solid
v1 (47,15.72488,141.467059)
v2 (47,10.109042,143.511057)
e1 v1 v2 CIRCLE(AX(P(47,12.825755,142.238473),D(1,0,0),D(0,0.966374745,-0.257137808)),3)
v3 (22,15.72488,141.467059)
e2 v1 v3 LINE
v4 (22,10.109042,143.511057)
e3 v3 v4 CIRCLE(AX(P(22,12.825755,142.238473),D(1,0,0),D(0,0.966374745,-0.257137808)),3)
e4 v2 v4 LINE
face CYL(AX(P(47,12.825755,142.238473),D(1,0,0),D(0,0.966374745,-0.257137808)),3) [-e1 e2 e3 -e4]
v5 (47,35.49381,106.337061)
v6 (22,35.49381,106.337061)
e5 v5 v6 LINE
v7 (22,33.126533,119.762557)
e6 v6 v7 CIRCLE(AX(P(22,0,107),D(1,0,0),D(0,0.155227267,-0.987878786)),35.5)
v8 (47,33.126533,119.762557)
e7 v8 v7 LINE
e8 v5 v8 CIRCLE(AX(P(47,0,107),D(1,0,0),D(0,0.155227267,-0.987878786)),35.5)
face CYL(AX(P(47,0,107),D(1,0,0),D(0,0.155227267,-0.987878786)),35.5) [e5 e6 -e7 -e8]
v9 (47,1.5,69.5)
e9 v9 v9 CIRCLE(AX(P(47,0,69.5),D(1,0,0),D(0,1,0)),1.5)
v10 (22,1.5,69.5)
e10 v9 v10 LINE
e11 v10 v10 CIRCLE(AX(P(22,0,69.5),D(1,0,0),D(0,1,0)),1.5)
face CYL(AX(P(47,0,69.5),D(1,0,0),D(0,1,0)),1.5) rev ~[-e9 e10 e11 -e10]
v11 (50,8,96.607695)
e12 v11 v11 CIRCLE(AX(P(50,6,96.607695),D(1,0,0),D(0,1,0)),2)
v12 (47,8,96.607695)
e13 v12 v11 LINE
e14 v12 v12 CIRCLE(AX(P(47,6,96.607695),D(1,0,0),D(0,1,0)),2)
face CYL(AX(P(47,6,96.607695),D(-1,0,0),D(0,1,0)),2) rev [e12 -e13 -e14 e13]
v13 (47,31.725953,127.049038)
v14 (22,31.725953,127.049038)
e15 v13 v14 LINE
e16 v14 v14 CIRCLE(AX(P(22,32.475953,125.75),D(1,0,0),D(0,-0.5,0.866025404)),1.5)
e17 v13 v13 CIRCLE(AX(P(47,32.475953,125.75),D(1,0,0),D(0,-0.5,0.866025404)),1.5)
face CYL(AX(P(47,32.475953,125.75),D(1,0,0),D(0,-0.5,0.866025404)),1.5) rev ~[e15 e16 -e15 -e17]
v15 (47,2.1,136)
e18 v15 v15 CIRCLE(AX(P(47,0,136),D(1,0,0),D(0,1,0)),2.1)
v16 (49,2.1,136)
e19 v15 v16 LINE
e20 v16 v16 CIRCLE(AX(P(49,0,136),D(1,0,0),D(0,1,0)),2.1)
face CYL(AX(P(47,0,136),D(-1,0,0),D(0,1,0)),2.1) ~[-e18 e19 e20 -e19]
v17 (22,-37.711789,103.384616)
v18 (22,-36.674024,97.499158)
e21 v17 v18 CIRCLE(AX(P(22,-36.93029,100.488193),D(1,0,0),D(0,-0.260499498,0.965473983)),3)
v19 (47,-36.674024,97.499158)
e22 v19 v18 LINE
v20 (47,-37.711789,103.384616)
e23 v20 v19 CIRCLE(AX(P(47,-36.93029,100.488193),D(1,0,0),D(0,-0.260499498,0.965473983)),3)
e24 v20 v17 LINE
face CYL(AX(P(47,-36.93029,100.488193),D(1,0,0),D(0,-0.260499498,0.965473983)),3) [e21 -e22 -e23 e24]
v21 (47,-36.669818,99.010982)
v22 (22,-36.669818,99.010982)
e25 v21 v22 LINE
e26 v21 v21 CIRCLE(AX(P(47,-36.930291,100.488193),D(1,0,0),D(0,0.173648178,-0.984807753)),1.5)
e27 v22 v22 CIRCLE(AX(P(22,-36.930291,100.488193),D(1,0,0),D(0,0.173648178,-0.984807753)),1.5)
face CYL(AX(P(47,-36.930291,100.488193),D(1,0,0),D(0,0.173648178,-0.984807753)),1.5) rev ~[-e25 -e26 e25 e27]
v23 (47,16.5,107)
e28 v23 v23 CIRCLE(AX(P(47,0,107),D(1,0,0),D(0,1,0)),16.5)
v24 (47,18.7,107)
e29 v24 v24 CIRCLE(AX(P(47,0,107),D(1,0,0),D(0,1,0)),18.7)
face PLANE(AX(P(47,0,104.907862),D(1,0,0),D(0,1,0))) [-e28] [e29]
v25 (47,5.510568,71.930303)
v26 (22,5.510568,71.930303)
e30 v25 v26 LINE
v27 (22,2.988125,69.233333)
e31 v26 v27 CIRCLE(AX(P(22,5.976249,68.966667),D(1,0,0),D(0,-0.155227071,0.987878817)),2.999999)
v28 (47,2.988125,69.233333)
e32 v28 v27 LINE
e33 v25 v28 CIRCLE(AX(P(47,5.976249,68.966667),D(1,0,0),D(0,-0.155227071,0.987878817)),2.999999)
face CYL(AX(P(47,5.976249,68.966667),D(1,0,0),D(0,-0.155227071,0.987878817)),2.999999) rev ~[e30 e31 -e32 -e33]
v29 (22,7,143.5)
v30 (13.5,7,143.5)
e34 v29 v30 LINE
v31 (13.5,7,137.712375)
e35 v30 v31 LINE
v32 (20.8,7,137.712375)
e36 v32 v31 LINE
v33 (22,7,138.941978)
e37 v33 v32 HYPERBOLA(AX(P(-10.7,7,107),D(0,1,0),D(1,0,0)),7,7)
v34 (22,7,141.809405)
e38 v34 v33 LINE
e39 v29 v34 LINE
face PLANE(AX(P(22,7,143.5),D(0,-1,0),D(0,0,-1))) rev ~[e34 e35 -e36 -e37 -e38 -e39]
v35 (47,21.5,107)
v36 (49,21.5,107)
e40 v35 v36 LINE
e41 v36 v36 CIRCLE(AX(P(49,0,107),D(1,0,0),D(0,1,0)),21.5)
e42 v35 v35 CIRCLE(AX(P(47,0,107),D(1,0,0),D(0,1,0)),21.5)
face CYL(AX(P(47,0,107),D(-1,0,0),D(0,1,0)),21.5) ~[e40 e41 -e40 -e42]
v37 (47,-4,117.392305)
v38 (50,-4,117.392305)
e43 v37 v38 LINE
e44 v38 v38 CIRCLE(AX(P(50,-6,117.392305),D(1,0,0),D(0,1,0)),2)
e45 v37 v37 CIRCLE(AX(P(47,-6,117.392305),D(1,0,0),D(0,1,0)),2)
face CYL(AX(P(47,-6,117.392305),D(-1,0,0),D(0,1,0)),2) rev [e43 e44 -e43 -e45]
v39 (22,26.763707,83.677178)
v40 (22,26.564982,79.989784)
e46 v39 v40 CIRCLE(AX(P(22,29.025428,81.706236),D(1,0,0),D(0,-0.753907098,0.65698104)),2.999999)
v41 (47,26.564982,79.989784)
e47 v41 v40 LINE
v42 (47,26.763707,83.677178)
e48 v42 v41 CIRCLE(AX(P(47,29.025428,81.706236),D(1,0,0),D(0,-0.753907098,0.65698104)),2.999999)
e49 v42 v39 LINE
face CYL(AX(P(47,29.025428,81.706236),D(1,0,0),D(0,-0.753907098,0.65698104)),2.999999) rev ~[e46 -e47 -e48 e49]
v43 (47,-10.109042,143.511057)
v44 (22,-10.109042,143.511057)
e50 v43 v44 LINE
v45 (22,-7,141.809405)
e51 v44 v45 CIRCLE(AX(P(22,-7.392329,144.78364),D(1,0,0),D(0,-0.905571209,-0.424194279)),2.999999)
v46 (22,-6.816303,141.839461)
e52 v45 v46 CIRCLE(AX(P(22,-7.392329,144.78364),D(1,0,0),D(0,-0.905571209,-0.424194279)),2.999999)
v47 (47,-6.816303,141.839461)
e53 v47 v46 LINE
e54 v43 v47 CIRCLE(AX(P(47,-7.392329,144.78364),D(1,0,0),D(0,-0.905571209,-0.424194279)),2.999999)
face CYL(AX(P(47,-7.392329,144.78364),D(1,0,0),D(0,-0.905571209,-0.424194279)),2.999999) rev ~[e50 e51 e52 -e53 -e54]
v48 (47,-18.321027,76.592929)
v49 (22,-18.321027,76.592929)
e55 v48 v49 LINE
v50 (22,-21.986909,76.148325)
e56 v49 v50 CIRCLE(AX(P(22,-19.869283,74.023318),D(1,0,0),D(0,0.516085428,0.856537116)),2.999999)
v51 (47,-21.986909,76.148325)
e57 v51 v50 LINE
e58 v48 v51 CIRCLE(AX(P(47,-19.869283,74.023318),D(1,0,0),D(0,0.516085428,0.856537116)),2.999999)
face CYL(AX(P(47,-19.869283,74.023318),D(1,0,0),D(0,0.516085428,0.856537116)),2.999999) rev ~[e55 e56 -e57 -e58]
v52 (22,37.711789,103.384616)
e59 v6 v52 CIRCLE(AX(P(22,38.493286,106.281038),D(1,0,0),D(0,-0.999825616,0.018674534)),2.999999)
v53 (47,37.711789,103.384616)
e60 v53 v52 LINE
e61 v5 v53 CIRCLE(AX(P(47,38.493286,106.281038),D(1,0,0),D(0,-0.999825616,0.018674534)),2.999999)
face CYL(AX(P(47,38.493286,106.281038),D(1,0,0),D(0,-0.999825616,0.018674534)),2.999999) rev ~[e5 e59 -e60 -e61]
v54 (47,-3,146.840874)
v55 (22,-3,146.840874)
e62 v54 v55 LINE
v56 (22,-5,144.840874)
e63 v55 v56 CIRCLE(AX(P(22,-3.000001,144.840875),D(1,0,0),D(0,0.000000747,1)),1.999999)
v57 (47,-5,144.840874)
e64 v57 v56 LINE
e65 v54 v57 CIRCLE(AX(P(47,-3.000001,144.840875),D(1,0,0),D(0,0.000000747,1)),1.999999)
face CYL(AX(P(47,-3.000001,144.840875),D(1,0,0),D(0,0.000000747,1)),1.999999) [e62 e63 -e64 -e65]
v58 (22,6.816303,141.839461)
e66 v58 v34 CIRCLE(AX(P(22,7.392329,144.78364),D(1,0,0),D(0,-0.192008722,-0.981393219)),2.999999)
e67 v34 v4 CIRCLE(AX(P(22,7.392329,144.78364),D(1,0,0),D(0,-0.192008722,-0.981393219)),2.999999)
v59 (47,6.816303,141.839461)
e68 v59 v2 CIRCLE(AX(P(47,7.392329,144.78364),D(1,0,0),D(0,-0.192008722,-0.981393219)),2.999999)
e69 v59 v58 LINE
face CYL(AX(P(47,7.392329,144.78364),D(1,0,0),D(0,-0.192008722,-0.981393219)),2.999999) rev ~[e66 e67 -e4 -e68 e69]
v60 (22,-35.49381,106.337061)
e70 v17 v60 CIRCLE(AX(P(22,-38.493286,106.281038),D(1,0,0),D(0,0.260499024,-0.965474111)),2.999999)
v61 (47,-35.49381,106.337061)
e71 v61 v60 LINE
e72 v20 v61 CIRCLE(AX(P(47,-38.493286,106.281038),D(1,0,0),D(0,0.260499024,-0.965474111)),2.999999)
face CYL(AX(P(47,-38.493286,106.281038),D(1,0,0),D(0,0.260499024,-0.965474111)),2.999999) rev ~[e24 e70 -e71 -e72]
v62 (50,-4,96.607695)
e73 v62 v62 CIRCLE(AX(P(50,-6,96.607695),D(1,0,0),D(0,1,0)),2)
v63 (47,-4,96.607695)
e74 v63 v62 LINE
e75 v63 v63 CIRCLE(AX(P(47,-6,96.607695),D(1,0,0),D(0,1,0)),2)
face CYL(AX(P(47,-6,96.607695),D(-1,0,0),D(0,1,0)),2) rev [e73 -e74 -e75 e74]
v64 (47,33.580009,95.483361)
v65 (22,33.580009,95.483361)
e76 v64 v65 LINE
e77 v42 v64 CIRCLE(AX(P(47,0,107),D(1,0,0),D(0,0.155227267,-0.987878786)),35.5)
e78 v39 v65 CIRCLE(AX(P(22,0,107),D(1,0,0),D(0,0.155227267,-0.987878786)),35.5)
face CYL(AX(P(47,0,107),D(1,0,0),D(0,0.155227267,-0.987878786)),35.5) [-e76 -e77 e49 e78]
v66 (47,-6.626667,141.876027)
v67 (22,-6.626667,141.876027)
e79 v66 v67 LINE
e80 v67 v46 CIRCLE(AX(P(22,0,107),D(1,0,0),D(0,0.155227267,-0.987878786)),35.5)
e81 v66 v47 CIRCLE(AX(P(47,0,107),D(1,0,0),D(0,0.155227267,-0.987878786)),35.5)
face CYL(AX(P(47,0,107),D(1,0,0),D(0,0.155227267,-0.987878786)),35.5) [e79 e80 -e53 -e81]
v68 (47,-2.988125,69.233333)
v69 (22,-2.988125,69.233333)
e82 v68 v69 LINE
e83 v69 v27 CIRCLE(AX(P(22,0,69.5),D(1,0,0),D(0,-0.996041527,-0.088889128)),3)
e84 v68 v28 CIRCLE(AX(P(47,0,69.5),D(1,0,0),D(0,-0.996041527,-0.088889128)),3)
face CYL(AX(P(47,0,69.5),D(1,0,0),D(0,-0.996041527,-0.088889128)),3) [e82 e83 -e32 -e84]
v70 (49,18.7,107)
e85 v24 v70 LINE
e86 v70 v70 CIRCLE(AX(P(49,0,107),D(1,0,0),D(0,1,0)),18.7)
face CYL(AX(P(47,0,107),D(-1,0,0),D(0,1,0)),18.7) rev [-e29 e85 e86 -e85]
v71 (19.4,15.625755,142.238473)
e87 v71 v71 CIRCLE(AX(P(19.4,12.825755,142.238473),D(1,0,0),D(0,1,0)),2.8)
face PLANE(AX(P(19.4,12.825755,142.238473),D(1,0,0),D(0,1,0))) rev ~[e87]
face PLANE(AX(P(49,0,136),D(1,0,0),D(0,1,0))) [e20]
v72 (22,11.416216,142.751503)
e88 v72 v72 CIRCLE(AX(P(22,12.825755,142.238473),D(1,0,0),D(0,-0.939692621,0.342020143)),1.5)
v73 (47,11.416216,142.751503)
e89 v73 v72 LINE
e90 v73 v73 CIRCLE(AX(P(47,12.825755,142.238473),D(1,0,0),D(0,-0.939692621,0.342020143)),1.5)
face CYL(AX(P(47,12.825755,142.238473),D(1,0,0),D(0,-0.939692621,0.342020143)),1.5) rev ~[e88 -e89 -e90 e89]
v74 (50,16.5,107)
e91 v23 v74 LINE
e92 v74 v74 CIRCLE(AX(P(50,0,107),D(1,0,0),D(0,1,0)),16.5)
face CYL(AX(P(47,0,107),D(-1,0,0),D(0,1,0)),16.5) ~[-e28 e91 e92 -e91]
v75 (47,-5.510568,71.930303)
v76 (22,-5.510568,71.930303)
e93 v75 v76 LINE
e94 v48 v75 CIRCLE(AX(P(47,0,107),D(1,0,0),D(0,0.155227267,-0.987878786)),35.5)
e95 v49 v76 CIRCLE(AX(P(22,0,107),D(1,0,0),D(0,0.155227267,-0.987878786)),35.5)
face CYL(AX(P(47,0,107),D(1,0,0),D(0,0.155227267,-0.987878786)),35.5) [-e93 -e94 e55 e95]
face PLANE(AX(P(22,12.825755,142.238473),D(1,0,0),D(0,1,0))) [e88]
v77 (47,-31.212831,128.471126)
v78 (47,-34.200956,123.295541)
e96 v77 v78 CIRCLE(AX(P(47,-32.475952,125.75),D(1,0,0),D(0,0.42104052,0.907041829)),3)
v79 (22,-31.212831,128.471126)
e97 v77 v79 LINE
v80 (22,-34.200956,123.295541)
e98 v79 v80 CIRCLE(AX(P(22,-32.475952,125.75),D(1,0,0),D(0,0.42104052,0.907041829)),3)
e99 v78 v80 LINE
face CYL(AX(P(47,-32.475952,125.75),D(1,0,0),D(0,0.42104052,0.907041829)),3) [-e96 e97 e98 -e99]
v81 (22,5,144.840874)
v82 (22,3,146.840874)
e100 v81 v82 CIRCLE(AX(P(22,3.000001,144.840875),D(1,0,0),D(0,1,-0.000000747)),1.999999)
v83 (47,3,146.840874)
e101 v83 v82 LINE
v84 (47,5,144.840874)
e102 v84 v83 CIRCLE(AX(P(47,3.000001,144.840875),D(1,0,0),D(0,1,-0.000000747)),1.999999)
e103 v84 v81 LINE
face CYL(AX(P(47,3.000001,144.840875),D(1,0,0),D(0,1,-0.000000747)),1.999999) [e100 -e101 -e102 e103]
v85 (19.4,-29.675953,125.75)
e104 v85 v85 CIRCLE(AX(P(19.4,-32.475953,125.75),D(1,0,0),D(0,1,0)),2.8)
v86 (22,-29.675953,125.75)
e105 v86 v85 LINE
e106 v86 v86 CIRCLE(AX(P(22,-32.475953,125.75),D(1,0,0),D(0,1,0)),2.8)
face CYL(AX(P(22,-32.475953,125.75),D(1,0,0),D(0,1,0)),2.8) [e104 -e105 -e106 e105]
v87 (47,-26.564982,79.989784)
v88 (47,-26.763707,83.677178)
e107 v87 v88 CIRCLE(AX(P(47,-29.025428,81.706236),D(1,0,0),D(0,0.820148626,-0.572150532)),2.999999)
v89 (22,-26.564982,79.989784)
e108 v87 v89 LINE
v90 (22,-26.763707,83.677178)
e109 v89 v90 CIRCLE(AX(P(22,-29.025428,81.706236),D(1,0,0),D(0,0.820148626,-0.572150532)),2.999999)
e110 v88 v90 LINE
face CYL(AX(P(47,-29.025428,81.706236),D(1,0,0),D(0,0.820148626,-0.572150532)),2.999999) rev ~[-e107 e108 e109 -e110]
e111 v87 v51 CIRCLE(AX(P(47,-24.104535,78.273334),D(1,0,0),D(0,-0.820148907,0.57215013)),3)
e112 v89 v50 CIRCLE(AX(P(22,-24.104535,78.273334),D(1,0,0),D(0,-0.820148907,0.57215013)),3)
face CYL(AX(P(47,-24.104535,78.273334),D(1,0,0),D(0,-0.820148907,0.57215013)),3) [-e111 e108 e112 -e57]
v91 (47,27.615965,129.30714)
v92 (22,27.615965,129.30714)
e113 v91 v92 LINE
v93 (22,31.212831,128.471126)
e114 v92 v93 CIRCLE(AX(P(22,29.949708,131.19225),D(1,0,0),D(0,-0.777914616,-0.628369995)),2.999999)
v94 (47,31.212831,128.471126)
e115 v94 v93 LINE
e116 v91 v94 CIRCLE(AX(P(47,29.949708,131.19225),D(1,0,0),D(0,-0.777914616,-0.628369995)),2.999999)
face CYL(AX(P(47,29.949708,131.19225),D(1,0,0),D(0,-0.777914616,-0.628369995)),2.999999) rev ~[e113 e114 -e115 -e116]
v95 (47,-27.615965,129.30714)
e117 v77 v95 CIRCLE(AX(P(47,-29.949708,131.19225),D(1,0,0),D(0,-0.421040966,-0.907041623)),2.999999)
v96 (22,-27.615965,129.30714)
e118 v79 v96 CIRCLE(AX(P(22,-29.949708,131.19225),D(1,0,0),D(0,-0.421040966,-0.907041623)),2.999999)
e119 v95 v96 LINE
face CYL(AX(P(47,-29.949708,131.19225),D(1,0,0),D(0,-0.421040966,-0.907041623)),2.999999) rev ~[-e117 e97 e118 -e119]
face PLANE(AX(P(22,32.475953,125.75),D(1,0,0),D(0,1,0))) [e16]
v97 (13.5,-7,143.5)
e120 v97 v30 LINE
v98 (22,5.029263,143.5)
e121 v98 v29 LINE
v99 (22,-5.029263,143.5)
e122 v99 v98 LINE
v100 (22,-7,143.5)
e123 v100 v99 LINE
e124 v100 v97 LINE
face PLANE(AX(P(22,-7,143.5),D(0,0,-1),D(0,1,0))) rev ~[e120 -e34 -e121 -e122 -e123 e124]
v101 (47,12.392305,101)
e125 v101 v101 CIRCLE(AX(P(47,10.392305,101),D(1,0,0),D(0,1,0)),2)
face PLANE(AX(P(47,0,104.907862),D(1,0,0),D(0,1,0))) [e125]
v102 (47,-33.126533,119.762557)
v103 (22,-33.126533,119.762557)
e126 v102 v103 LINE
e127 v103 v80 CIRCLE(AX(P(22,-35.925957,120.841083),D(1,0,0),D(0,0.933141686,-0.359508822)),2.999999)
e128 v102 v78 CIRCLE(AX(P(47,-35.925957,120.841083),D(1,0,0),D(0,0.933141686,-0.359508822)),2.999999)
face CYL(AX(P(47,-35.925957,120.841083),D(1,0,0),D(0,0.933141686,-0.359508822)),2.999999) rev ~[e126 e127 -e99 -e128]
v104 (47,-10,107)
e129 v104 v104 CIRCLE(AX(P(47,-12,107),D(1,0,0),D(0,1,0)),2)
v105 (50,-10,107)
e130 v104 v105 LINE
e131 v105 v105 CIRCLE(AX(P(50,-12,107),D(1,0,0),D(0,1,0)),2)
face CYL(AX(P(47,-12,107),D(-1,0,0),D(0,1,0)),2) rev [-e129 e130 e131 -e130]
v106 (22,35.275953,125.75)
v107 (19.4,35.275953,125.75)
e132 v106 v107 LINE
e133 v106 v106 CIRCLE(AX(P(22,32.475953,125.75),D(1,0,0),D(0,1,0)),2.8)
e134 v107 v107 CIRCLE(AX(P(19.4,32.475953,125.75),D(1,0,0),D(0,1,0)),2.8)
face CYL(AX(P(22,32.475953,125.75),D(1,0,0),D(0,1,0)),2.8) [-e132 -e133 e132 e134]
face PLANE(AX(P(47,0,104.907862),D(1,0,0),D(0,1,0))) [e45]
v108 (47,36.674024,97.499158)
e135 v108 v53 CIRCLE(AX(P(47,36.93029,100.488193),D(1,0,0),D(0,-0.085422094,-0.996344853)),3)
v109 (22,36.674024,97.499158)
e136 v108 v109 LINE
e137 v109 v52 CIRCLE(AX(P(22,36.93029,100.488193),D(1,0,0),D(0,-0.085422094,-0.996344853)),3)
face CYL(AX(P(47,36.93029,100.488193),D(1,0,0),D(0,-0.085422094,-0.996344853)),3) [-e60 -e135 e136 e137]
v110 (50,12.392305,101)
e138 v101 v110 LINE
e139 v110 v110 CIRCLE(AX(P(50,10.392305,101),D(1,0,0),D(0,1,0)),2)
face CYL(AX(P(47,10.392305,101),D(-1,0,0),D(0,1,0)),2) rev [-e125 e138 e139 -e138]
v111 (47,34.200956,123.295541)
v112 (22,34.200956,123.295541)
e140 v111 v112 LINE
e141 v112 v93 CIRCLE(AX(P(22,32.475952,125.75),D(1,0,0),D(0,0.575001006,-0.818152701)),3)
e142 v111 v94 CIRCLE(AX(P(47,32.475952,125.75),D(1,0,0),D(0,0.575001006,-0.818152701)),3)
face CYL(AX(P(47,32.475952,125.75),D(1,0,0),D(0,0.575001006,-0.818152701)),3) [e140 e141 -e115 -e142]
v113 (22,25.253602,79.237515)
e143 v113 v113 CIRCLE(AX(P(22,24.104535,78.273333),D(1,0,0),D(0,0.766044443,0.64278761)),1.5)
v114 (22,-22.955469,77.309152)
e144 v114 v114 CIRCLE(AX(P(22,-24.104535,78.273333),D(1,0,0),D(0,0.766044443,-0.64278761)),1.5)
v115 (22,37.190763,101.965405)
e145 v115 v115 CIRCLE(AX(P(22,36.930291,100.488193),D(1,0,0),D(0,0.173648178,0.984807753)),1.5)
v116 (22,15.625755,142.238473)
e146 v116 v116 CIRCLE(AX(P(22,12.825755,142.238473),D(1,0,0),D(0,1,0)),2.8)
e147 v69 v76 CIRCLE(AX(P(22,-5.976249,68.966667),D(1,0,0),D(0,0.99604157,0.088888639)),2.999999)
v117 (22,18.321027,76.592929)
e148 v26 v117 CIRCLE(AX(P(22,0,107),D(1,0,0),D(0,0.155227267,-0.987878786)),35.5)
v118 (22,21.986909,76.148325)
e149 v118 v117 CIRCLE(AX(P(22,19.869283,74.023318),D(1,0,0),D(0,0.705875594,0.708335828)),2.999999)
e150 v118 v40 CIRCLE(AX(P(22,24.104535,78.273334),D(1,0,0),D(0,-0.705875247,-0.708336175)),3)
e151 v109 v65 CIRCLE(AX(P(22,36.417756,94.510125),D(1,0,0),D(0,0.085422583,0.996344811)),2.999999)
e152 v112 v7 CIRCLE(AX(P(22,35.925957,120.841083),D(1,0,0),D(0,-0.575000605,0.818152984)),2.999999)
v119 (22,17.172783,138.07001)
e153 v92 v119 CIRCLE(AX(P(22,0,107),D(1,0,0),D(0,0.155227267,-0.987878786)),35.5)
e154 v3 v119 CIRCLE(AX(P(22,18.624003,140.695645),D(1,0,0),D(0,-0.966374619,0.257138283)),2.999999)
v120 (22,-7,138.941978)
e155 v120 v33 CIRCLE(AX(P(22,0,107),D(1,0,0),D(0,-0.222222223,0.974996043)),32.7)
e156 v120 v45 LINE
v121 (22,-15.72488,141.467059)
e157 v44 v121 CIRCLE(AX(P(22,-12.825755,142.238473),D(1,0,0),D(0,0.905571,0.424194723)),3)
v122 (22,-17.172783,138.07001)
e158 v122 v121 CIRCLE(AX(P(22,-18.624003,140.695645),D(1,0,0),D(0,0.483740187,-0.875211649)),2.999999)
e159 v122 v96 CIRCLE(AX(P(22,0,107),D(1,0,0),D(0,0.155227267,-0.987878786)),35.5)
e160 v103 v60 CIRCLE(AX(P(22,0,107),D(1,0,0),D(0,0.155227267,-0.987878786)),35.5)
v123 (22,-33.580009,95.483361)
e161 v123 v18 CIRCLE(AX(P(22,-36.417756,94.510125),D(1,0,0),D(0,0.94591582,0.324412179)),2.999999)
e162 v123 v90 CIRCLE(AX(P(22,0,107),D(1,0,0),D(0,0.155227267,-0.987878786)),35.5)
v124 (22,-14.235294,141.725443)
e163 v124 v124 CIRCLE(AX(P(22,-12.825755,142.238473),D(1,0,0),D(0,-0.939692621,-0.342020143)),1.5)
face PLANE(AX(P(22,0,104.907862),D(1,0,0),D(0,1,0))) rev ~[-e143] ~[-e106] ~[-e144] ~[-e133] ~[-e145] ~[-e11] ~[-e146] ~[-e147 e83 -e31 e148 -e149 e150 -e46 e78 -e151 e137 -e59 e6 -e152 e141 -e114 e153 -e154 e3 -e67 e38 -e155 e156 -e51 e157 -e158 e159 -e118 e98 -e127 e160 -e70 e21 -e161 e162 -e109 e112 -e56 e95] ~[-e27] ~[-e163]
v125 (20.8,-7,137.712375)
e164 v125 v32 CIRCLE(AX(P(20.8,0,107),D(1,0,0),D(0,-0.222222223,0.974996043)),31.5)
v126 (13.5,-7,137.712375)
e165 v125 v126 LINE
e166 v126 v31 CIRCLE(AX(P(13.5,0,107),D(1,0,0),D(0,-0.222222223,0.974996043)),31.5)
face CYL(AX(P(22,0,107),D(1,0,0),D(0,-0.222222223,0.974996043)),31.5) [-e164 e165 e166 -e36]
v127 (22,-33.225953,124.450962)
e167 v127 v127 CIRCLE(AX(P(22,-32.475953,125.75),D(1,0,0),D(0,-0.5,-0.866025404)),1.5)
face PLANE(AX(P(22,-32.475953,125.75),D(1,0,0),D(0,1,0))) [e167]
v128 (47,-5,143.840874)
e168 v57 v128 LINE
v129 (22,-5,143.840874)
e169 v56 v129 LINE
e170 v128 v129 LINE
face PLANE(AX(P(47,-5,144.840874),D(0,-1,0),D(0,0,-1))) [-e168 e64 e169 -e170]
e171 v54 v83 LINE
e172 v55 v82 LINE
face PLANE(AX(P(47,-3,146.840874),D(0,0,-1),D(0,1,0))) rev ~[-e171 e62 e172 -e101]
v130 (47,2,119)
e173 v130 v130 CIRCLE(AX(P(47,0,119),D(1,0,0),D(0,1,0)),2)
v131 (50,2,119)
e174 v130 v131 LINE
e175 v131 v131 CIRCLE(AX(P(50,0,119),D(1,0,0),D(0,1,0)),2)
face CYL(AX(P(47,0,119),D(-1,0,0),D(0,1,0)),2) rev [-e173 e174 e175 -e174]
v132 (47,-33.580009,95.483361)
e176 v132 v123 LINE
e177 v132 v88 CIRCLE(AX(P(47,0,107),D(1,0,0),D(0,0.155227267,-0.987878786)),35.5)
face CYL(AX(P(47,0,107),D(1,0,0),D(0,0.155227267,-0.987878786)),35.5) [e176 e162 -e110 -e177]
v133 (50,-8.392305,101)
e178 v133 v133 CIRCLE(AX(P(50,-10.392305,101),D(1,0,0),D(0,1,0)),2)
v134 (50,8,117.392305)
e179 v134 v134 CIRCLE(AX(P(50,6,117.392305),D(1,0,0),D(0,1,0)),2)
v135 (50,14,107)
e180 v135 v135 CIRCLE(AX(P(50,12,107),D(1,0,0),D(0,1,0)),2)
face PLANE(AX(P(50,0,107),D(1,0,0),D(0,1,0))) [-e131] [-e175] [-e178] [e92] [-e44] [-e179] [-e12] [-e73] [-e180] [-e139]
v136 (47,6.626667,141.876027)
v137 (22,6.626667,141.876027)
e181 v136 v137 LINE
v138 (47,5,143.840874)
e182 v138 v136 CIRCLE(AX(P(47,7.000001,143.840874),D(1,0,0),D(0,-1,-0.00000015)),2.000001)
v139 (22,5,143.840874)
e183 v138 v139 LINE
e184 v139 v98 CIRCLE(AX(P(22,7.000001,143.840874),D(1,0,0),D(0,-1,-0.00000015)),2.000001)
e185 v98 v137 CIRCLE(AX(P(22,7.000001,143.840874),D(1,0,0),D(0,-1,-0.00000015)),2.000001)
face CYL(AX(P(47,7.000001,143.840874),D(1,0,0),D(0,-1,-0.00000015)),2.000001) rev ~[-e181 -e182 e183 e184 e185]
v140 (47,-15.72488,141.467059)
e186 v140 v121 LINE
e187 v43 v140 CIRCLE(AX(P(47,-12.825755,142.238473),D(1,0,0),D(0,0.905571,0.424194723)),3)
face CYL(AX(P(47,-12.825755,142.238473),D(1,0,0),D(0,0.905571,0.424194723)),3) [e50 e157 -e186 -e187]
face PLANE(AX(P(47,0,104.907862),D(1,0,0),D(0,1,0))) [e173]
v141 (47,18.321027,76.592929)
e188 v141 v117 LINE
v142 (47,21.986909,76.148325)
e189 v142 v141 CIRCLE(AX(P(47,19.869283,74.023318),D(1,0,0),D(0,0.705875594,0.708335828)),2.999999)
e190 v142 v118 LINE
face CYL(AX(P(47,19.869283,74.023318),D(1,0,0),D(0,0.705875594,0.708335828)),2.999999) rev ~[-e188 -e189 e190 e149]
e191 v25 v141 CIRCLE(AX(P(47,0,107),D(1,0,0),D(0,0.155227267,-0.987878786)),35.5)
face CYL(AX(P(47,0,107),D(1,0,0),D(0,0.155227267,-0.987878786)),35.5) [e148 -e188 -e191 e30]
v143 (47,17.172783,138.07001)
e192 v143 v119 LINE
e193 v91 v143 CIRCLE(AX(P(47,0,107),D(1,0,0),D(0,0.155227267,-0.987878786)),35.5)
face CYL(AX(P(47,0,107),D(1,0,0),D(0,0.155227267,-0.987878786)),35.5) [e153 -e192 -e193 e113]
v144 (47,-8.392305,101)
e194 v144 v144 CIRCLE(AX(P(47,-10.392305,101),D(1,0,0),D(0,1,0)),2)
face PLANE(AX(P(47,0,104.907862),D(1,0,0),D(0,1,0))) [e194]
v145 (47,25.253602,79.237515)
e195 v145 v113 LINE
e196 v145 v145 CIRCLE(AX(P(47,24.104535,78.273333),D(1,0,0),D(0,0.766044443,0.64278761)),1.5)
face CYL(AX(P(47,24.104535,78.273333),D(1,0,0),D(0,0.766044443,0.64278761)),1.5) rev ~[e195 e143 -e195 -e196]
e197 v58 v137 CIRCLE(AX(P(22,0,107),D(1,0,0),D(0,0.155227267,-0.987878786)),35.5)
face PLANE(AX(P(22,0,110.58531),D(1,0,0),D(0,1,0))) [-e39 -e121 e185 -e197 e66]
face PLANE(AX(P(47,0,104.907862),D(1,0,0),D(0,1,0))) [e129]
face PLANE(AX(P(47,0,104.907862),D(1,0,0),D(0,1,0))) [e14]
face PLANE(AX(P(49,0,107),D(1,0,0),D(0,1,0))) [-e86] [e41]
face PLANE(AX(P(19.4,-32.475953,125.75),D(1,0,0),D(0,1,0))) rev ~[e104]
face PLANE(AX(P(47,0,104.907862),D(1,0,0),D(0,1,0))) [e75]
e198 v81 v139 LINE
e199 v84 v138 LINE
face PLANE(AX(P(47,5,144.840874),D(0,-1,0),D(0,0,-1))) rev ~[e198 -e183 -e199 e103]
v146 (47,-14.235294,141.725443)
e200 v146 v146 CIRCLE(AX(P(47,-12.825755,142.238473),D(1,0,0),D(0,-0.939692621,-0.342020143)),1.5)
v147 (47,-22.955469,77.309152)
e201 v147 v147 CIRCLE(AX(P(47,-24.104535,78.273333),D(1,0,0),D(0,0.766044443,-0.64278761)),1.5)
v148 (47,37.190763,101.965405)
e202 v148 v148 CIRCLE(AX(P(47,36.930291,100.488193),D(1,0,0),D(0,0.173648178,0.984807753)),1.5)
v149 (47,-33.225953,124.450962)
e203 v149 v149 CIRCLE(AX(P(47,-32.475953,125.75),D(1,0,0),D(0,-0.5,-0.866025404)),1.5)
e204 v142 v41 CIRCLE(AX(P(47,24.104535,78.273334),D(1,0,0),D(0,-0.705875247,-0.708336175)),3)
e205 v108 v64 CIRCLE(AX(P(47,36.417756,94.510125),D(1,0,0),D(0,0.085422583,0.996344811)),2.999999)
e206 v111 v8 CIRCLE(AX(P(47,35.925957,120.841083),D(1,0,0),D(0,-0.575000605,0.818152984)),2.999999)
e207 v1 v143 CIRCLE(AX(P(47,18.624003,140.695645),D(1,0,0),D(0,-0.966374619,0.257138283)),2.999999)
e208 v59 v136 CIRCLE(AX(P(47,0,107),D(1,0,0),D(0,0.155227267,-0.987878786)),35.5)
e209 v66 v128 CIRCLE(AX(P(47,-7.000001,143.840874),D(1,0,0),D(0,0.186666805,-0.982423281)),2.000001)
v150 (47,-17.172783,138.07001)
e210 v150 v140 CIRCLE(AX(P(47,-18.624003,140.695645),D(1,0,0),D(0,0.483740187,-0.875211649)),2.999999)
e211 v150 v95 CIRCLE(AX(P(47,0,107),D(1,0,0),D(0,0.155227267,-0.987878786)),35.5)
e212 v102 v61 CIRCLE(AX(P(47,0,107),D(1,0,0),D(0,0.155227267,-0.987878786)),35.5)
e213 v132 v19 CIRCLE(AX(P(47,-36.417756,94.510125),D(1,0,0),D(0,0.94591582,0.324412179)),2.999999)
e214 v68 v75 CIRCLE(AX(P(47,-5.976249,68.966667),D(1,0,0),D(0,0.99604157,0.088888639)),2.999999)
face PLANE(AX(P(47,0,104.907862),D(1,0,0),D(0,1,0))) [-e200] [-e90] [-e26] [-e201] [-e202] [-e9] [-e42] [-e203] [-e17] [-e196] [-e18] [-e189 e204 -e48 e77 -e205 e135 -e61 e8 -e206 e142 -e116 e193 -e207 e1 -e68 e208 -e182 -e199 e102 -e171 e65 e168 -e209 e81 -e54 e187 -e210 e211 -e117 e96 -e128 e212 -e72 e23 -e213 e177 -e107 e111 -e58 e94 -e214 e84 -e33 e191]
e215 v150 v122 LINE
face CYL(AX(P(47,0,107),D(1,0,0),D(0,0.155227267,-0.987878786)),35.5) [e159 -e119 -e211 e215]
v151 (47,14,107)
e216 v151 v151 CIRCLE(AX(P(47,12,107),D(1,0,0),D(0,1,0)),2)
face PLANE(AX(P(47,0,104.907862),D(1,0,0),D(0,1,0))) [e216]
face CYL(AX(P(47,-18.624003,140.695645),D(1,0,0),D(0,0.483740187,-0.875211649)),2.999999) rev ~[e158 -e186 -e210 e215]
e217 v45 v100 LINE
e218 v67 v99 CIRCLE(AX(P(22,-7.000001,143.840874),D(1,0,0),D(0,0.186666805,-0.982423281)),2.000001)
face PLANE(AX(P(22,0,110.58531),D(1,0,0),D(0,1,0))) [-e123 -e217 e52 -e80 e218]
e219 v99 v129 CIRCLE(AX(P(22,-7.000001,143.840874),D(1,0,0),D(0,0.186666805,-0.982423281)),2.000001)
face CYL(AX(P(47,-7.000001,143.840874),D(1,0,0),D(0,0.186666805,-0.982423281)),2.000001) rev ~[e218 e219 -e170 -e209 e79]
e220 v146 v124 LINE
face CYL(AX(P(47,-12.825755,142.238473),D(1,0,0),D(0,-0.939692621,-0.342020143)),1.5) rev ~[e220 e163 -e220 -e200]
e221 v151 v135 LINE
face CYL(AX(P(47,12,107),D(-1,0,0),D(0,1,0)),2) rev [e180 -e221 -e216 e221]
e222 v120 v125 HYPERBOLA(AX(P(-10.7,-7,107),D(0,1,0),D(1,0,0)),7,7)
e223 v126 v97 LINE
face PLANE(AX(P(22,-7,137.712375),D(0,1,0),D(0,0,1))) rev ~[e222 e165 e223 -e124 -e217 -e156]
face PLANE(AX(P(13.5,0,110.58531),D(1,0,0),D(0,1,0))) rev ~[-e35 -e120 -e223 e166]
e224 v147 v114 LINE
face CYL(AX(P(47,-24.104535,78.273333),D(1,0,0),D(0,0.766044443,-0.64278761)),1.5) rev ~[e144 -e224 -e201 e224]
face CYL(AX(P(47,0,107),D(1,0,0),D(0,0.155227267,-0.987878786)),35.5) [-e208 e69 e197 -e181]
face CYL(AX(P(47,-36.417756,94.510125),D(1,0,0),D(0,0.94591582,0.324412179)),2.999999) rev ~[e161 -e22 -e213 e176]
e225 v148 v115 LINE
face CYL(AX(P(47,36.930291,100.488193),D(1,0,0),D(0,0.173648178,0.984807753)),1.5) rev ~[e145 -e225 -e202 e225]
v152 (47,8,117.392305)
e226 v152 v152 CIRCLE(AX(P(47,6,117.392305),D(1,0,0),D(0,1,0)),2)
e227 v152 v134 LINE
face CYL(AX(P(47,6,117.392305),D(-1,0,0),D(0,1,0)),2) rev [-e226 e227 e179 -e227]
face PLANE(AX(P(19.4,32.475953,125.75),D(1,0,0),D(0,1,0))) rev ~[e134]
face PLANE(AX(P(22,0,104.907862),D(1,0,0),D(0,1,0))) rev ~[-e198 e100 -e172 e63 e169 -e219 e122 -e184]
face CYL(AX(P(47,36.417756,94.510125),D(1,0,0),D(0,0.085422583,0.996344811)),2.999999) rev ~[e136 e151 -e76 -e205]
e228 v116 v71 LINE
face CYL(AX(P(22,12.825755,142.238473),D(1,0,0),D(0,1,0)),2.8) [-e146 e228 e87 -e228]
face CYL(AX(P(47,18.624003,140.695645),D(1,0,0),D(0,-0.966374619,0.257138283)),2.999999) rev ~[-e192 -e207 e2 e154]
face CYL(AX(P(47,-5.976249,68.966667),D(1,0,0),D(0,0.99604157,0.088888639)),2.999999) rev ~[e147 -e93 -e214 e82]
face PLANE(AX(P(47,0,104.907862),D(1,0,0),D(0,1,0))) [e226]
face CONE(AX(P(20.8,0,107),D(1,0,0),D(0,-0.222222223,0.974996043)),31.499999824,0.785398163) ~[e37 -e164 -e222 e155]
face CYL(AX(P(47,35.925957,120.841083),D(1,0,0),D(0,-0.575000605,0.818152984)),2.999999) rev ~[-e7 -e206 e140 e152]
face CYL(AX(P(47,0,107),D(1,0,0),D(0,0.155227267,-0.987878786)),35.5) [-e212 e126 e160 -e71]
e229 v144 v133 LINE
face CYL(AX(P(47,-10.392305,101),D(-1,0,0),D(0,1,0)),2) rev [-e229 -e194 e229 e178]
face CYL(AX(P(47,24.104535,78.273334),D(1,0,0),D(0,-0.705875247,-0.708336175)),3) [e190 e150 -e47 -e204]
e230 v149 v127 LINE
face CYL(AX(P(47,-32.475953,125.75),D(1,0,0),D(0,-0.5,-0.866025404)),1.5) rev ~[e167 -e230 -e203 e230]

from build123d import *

# Parameters (mm, degrees)
SKETCH009_R        = 16.5
SKETCH009_R_2      = 2
PAD006_DEPTH       = 3
SKETCH010_R        = 1.5
PAD007_DEPTH       = 25
POLARPATTERN_COUNT = 9
PAD008_DEPTH       = 25
SKETCH012_R        = 21.5
SKETCH012_R_2      = 18.7
SKETCH012_R_3      = 2.1
PAD009_DEPTH       = 2
PAD010_DEPTH       = 8.5
SKETCH014_R        = 2.8
PAD011_DEPTH       = 2.6
CHAMFER_SIZE       = 1.2


with BuildPart() as part:
    # Sketch009 → Pad006 (new body)
    with BuildSketch(Plane.YZ):
        Circle(SKETCH009_R)
        with Locations((0, 12)):
            Circle(SKETCH009_R_2, mode=Mode.SUBTRACT)
        with Locations((-6, 10.392305)):
            Circle(SKETCH009_R_2, mode=Mode.SUBTRACT)
        with Locations((6, 10.392305)):
            Circle(SKETCH009_R_2, mode=Mode.SUBTRACT)
        with Locations((12, 0)):
            Circle(SKETCH009_R_2, mode=Mode.SUBTRACT)
        with Locations((10.392305, -6)):
            Circle(SKETCH009_R_2, mode=Mode.SUBTRACT)
        with Locations((6, -10.392305)):
            Circle(SKETCH009_R_2, mode=Mode.SUBTRACT)
        with Locations((-6, -10.392305)):
            Circle(SKETCH009_R_2, mode=Mode.SUBTRACT)
        with Locations((-10.392305, -6)):
            Circle(SKETCH009_R_2, mode=Mode.SUBTRACT)
        with Locations((-12, 0)):
            Circle(SKETCH009_R_2, mode=Mode.SUBTRACT)
    extrude(amount=PAD006_DEPTH)

    # Sketch010 → Pad007 (join)
    with BuildSketch(Plane.YZ):
        with BuildLine():
            ThreePointArc((5.510568, -35.069697), (0, 35.5), (-5.510568, -35.069697))
            ThreePointArc((-2.988125, -37.766667), (-3.785221, -35.984091), (-5.510568, -35.069697))
            ThreePointArc((-2.988125, -37.766667), (0, -40.5), (2.988125, -37.766667))
            ThreePointArc((5.510568, -35.069697), (3.785221, -35.984091), (2.988125, -37.766667))
        make_face()
        with Locations((0, -37.5)):
            Circle(SKETCH010_R, mode=Mode.SUBTRACT)
    pad007 = extrude(amount=-PAD007_DEPTH)

    # PolarPattern: Pad007 ×9 about axis
    polarpattern_axis = Axis((0, 0, 0), (1, 0, 0))
    for i in range(1, POLARPATTERN_COUNT):
        add(pad007.rotate(polarpattern_axis, i * 360 / POLARPATTERN_COUNT))

    # Sketch011 → Pad008 (join)
    with BuildSketch(Plane.YZ):
        with BuildLine():
            ThreePointArc((-6.626667, 34.876027), (-5.459437, 35.565466), (-5, 36.840874))
            Line((-5, 37.840874), (-5, 36.840874))
            ThreePointArc((-3, 39.840874), (-4.414214, 39.255088), (-5, 37.840874))
            Line((-3, 39.840874), (3, 39.840874))
            ThreePointArc((5, 37.840874), (4.414214, 39.255088), (3, 39.840874))
            Line((5, 37.840874), (5, 36.840874))
            ThreePointArc((5, 36.840874), (5.459437, 35.565466), (6.626667, 34.876027))
            ThreePointArc((6.626667, 34.876027), (0, 35.5), (-6.626667, 34.876027))
        make_face()
    extrude(amount=-PAD008_DEPTH)

    # Sketch012 → Pad009 (join)
    with BuildSketch(Plane.YZ):
        Circle(SKETCH012_R)
        Circle(SKETCH012_R_2, mode=Mode.SUBTRACT)
        with Locations((0, 29)):
            Circle(SKETCH012_R_3)
    extrude(amount=PAD009_DEPTH)

    # Sketch013 → Pad010 (join)
    with BuildSketch(Plane.YZ.offset(-25)):
        with BuildLine():
            ThreePointArc((-7, 30.712375), (0, -31.5), (7, 30.712375))
            Line((7, 36.5), (7, 30.712375))
            Line((-7, 36.5), (7, 36.5))
            Line((-7, 30.712375), (-7, 36.5))
        make_face()
    extrude(amount=-PAD010_DEPTH)

    # Sketch014 → Pad011 (join)
    with BuildSketch(Plane.YZ.offset(-25)):
        with Locations((12.825755, 35.238473)):
            Circle(SKETCH014_R)
        with Locations((32.475953, 18.75)):
            Circle(SKETCH014_R)
        with Locations((-32.475953, 18.75)):
            Circle(SKETCH014_R)
    extrude(amount=-PAD011_DEPTH)

    # Chamfer
    chamfer_edges = [part.edges().sort_by_distance(p)[0] for p in [
        (-25, 0, -31.5),
    ]]
    chamfer(chamfer_edges, length=CHAMFER_SIZE)


with BuildPart() as part_1:
    # Body009 placement: moved
    add(part.part.moved(Location((-38.8, 0, 55.540956))))


with BuildPart() as part_2:
    # Clone003 placement: moved
    add(part_1.part.moved(Location((38.8, 0, -55.540956))))


with BuildPart() as part_3:
    # Body010 placement: moved
    add(part_2.part.moved(Location((47, 0, 107))))


solid = part_3.part
